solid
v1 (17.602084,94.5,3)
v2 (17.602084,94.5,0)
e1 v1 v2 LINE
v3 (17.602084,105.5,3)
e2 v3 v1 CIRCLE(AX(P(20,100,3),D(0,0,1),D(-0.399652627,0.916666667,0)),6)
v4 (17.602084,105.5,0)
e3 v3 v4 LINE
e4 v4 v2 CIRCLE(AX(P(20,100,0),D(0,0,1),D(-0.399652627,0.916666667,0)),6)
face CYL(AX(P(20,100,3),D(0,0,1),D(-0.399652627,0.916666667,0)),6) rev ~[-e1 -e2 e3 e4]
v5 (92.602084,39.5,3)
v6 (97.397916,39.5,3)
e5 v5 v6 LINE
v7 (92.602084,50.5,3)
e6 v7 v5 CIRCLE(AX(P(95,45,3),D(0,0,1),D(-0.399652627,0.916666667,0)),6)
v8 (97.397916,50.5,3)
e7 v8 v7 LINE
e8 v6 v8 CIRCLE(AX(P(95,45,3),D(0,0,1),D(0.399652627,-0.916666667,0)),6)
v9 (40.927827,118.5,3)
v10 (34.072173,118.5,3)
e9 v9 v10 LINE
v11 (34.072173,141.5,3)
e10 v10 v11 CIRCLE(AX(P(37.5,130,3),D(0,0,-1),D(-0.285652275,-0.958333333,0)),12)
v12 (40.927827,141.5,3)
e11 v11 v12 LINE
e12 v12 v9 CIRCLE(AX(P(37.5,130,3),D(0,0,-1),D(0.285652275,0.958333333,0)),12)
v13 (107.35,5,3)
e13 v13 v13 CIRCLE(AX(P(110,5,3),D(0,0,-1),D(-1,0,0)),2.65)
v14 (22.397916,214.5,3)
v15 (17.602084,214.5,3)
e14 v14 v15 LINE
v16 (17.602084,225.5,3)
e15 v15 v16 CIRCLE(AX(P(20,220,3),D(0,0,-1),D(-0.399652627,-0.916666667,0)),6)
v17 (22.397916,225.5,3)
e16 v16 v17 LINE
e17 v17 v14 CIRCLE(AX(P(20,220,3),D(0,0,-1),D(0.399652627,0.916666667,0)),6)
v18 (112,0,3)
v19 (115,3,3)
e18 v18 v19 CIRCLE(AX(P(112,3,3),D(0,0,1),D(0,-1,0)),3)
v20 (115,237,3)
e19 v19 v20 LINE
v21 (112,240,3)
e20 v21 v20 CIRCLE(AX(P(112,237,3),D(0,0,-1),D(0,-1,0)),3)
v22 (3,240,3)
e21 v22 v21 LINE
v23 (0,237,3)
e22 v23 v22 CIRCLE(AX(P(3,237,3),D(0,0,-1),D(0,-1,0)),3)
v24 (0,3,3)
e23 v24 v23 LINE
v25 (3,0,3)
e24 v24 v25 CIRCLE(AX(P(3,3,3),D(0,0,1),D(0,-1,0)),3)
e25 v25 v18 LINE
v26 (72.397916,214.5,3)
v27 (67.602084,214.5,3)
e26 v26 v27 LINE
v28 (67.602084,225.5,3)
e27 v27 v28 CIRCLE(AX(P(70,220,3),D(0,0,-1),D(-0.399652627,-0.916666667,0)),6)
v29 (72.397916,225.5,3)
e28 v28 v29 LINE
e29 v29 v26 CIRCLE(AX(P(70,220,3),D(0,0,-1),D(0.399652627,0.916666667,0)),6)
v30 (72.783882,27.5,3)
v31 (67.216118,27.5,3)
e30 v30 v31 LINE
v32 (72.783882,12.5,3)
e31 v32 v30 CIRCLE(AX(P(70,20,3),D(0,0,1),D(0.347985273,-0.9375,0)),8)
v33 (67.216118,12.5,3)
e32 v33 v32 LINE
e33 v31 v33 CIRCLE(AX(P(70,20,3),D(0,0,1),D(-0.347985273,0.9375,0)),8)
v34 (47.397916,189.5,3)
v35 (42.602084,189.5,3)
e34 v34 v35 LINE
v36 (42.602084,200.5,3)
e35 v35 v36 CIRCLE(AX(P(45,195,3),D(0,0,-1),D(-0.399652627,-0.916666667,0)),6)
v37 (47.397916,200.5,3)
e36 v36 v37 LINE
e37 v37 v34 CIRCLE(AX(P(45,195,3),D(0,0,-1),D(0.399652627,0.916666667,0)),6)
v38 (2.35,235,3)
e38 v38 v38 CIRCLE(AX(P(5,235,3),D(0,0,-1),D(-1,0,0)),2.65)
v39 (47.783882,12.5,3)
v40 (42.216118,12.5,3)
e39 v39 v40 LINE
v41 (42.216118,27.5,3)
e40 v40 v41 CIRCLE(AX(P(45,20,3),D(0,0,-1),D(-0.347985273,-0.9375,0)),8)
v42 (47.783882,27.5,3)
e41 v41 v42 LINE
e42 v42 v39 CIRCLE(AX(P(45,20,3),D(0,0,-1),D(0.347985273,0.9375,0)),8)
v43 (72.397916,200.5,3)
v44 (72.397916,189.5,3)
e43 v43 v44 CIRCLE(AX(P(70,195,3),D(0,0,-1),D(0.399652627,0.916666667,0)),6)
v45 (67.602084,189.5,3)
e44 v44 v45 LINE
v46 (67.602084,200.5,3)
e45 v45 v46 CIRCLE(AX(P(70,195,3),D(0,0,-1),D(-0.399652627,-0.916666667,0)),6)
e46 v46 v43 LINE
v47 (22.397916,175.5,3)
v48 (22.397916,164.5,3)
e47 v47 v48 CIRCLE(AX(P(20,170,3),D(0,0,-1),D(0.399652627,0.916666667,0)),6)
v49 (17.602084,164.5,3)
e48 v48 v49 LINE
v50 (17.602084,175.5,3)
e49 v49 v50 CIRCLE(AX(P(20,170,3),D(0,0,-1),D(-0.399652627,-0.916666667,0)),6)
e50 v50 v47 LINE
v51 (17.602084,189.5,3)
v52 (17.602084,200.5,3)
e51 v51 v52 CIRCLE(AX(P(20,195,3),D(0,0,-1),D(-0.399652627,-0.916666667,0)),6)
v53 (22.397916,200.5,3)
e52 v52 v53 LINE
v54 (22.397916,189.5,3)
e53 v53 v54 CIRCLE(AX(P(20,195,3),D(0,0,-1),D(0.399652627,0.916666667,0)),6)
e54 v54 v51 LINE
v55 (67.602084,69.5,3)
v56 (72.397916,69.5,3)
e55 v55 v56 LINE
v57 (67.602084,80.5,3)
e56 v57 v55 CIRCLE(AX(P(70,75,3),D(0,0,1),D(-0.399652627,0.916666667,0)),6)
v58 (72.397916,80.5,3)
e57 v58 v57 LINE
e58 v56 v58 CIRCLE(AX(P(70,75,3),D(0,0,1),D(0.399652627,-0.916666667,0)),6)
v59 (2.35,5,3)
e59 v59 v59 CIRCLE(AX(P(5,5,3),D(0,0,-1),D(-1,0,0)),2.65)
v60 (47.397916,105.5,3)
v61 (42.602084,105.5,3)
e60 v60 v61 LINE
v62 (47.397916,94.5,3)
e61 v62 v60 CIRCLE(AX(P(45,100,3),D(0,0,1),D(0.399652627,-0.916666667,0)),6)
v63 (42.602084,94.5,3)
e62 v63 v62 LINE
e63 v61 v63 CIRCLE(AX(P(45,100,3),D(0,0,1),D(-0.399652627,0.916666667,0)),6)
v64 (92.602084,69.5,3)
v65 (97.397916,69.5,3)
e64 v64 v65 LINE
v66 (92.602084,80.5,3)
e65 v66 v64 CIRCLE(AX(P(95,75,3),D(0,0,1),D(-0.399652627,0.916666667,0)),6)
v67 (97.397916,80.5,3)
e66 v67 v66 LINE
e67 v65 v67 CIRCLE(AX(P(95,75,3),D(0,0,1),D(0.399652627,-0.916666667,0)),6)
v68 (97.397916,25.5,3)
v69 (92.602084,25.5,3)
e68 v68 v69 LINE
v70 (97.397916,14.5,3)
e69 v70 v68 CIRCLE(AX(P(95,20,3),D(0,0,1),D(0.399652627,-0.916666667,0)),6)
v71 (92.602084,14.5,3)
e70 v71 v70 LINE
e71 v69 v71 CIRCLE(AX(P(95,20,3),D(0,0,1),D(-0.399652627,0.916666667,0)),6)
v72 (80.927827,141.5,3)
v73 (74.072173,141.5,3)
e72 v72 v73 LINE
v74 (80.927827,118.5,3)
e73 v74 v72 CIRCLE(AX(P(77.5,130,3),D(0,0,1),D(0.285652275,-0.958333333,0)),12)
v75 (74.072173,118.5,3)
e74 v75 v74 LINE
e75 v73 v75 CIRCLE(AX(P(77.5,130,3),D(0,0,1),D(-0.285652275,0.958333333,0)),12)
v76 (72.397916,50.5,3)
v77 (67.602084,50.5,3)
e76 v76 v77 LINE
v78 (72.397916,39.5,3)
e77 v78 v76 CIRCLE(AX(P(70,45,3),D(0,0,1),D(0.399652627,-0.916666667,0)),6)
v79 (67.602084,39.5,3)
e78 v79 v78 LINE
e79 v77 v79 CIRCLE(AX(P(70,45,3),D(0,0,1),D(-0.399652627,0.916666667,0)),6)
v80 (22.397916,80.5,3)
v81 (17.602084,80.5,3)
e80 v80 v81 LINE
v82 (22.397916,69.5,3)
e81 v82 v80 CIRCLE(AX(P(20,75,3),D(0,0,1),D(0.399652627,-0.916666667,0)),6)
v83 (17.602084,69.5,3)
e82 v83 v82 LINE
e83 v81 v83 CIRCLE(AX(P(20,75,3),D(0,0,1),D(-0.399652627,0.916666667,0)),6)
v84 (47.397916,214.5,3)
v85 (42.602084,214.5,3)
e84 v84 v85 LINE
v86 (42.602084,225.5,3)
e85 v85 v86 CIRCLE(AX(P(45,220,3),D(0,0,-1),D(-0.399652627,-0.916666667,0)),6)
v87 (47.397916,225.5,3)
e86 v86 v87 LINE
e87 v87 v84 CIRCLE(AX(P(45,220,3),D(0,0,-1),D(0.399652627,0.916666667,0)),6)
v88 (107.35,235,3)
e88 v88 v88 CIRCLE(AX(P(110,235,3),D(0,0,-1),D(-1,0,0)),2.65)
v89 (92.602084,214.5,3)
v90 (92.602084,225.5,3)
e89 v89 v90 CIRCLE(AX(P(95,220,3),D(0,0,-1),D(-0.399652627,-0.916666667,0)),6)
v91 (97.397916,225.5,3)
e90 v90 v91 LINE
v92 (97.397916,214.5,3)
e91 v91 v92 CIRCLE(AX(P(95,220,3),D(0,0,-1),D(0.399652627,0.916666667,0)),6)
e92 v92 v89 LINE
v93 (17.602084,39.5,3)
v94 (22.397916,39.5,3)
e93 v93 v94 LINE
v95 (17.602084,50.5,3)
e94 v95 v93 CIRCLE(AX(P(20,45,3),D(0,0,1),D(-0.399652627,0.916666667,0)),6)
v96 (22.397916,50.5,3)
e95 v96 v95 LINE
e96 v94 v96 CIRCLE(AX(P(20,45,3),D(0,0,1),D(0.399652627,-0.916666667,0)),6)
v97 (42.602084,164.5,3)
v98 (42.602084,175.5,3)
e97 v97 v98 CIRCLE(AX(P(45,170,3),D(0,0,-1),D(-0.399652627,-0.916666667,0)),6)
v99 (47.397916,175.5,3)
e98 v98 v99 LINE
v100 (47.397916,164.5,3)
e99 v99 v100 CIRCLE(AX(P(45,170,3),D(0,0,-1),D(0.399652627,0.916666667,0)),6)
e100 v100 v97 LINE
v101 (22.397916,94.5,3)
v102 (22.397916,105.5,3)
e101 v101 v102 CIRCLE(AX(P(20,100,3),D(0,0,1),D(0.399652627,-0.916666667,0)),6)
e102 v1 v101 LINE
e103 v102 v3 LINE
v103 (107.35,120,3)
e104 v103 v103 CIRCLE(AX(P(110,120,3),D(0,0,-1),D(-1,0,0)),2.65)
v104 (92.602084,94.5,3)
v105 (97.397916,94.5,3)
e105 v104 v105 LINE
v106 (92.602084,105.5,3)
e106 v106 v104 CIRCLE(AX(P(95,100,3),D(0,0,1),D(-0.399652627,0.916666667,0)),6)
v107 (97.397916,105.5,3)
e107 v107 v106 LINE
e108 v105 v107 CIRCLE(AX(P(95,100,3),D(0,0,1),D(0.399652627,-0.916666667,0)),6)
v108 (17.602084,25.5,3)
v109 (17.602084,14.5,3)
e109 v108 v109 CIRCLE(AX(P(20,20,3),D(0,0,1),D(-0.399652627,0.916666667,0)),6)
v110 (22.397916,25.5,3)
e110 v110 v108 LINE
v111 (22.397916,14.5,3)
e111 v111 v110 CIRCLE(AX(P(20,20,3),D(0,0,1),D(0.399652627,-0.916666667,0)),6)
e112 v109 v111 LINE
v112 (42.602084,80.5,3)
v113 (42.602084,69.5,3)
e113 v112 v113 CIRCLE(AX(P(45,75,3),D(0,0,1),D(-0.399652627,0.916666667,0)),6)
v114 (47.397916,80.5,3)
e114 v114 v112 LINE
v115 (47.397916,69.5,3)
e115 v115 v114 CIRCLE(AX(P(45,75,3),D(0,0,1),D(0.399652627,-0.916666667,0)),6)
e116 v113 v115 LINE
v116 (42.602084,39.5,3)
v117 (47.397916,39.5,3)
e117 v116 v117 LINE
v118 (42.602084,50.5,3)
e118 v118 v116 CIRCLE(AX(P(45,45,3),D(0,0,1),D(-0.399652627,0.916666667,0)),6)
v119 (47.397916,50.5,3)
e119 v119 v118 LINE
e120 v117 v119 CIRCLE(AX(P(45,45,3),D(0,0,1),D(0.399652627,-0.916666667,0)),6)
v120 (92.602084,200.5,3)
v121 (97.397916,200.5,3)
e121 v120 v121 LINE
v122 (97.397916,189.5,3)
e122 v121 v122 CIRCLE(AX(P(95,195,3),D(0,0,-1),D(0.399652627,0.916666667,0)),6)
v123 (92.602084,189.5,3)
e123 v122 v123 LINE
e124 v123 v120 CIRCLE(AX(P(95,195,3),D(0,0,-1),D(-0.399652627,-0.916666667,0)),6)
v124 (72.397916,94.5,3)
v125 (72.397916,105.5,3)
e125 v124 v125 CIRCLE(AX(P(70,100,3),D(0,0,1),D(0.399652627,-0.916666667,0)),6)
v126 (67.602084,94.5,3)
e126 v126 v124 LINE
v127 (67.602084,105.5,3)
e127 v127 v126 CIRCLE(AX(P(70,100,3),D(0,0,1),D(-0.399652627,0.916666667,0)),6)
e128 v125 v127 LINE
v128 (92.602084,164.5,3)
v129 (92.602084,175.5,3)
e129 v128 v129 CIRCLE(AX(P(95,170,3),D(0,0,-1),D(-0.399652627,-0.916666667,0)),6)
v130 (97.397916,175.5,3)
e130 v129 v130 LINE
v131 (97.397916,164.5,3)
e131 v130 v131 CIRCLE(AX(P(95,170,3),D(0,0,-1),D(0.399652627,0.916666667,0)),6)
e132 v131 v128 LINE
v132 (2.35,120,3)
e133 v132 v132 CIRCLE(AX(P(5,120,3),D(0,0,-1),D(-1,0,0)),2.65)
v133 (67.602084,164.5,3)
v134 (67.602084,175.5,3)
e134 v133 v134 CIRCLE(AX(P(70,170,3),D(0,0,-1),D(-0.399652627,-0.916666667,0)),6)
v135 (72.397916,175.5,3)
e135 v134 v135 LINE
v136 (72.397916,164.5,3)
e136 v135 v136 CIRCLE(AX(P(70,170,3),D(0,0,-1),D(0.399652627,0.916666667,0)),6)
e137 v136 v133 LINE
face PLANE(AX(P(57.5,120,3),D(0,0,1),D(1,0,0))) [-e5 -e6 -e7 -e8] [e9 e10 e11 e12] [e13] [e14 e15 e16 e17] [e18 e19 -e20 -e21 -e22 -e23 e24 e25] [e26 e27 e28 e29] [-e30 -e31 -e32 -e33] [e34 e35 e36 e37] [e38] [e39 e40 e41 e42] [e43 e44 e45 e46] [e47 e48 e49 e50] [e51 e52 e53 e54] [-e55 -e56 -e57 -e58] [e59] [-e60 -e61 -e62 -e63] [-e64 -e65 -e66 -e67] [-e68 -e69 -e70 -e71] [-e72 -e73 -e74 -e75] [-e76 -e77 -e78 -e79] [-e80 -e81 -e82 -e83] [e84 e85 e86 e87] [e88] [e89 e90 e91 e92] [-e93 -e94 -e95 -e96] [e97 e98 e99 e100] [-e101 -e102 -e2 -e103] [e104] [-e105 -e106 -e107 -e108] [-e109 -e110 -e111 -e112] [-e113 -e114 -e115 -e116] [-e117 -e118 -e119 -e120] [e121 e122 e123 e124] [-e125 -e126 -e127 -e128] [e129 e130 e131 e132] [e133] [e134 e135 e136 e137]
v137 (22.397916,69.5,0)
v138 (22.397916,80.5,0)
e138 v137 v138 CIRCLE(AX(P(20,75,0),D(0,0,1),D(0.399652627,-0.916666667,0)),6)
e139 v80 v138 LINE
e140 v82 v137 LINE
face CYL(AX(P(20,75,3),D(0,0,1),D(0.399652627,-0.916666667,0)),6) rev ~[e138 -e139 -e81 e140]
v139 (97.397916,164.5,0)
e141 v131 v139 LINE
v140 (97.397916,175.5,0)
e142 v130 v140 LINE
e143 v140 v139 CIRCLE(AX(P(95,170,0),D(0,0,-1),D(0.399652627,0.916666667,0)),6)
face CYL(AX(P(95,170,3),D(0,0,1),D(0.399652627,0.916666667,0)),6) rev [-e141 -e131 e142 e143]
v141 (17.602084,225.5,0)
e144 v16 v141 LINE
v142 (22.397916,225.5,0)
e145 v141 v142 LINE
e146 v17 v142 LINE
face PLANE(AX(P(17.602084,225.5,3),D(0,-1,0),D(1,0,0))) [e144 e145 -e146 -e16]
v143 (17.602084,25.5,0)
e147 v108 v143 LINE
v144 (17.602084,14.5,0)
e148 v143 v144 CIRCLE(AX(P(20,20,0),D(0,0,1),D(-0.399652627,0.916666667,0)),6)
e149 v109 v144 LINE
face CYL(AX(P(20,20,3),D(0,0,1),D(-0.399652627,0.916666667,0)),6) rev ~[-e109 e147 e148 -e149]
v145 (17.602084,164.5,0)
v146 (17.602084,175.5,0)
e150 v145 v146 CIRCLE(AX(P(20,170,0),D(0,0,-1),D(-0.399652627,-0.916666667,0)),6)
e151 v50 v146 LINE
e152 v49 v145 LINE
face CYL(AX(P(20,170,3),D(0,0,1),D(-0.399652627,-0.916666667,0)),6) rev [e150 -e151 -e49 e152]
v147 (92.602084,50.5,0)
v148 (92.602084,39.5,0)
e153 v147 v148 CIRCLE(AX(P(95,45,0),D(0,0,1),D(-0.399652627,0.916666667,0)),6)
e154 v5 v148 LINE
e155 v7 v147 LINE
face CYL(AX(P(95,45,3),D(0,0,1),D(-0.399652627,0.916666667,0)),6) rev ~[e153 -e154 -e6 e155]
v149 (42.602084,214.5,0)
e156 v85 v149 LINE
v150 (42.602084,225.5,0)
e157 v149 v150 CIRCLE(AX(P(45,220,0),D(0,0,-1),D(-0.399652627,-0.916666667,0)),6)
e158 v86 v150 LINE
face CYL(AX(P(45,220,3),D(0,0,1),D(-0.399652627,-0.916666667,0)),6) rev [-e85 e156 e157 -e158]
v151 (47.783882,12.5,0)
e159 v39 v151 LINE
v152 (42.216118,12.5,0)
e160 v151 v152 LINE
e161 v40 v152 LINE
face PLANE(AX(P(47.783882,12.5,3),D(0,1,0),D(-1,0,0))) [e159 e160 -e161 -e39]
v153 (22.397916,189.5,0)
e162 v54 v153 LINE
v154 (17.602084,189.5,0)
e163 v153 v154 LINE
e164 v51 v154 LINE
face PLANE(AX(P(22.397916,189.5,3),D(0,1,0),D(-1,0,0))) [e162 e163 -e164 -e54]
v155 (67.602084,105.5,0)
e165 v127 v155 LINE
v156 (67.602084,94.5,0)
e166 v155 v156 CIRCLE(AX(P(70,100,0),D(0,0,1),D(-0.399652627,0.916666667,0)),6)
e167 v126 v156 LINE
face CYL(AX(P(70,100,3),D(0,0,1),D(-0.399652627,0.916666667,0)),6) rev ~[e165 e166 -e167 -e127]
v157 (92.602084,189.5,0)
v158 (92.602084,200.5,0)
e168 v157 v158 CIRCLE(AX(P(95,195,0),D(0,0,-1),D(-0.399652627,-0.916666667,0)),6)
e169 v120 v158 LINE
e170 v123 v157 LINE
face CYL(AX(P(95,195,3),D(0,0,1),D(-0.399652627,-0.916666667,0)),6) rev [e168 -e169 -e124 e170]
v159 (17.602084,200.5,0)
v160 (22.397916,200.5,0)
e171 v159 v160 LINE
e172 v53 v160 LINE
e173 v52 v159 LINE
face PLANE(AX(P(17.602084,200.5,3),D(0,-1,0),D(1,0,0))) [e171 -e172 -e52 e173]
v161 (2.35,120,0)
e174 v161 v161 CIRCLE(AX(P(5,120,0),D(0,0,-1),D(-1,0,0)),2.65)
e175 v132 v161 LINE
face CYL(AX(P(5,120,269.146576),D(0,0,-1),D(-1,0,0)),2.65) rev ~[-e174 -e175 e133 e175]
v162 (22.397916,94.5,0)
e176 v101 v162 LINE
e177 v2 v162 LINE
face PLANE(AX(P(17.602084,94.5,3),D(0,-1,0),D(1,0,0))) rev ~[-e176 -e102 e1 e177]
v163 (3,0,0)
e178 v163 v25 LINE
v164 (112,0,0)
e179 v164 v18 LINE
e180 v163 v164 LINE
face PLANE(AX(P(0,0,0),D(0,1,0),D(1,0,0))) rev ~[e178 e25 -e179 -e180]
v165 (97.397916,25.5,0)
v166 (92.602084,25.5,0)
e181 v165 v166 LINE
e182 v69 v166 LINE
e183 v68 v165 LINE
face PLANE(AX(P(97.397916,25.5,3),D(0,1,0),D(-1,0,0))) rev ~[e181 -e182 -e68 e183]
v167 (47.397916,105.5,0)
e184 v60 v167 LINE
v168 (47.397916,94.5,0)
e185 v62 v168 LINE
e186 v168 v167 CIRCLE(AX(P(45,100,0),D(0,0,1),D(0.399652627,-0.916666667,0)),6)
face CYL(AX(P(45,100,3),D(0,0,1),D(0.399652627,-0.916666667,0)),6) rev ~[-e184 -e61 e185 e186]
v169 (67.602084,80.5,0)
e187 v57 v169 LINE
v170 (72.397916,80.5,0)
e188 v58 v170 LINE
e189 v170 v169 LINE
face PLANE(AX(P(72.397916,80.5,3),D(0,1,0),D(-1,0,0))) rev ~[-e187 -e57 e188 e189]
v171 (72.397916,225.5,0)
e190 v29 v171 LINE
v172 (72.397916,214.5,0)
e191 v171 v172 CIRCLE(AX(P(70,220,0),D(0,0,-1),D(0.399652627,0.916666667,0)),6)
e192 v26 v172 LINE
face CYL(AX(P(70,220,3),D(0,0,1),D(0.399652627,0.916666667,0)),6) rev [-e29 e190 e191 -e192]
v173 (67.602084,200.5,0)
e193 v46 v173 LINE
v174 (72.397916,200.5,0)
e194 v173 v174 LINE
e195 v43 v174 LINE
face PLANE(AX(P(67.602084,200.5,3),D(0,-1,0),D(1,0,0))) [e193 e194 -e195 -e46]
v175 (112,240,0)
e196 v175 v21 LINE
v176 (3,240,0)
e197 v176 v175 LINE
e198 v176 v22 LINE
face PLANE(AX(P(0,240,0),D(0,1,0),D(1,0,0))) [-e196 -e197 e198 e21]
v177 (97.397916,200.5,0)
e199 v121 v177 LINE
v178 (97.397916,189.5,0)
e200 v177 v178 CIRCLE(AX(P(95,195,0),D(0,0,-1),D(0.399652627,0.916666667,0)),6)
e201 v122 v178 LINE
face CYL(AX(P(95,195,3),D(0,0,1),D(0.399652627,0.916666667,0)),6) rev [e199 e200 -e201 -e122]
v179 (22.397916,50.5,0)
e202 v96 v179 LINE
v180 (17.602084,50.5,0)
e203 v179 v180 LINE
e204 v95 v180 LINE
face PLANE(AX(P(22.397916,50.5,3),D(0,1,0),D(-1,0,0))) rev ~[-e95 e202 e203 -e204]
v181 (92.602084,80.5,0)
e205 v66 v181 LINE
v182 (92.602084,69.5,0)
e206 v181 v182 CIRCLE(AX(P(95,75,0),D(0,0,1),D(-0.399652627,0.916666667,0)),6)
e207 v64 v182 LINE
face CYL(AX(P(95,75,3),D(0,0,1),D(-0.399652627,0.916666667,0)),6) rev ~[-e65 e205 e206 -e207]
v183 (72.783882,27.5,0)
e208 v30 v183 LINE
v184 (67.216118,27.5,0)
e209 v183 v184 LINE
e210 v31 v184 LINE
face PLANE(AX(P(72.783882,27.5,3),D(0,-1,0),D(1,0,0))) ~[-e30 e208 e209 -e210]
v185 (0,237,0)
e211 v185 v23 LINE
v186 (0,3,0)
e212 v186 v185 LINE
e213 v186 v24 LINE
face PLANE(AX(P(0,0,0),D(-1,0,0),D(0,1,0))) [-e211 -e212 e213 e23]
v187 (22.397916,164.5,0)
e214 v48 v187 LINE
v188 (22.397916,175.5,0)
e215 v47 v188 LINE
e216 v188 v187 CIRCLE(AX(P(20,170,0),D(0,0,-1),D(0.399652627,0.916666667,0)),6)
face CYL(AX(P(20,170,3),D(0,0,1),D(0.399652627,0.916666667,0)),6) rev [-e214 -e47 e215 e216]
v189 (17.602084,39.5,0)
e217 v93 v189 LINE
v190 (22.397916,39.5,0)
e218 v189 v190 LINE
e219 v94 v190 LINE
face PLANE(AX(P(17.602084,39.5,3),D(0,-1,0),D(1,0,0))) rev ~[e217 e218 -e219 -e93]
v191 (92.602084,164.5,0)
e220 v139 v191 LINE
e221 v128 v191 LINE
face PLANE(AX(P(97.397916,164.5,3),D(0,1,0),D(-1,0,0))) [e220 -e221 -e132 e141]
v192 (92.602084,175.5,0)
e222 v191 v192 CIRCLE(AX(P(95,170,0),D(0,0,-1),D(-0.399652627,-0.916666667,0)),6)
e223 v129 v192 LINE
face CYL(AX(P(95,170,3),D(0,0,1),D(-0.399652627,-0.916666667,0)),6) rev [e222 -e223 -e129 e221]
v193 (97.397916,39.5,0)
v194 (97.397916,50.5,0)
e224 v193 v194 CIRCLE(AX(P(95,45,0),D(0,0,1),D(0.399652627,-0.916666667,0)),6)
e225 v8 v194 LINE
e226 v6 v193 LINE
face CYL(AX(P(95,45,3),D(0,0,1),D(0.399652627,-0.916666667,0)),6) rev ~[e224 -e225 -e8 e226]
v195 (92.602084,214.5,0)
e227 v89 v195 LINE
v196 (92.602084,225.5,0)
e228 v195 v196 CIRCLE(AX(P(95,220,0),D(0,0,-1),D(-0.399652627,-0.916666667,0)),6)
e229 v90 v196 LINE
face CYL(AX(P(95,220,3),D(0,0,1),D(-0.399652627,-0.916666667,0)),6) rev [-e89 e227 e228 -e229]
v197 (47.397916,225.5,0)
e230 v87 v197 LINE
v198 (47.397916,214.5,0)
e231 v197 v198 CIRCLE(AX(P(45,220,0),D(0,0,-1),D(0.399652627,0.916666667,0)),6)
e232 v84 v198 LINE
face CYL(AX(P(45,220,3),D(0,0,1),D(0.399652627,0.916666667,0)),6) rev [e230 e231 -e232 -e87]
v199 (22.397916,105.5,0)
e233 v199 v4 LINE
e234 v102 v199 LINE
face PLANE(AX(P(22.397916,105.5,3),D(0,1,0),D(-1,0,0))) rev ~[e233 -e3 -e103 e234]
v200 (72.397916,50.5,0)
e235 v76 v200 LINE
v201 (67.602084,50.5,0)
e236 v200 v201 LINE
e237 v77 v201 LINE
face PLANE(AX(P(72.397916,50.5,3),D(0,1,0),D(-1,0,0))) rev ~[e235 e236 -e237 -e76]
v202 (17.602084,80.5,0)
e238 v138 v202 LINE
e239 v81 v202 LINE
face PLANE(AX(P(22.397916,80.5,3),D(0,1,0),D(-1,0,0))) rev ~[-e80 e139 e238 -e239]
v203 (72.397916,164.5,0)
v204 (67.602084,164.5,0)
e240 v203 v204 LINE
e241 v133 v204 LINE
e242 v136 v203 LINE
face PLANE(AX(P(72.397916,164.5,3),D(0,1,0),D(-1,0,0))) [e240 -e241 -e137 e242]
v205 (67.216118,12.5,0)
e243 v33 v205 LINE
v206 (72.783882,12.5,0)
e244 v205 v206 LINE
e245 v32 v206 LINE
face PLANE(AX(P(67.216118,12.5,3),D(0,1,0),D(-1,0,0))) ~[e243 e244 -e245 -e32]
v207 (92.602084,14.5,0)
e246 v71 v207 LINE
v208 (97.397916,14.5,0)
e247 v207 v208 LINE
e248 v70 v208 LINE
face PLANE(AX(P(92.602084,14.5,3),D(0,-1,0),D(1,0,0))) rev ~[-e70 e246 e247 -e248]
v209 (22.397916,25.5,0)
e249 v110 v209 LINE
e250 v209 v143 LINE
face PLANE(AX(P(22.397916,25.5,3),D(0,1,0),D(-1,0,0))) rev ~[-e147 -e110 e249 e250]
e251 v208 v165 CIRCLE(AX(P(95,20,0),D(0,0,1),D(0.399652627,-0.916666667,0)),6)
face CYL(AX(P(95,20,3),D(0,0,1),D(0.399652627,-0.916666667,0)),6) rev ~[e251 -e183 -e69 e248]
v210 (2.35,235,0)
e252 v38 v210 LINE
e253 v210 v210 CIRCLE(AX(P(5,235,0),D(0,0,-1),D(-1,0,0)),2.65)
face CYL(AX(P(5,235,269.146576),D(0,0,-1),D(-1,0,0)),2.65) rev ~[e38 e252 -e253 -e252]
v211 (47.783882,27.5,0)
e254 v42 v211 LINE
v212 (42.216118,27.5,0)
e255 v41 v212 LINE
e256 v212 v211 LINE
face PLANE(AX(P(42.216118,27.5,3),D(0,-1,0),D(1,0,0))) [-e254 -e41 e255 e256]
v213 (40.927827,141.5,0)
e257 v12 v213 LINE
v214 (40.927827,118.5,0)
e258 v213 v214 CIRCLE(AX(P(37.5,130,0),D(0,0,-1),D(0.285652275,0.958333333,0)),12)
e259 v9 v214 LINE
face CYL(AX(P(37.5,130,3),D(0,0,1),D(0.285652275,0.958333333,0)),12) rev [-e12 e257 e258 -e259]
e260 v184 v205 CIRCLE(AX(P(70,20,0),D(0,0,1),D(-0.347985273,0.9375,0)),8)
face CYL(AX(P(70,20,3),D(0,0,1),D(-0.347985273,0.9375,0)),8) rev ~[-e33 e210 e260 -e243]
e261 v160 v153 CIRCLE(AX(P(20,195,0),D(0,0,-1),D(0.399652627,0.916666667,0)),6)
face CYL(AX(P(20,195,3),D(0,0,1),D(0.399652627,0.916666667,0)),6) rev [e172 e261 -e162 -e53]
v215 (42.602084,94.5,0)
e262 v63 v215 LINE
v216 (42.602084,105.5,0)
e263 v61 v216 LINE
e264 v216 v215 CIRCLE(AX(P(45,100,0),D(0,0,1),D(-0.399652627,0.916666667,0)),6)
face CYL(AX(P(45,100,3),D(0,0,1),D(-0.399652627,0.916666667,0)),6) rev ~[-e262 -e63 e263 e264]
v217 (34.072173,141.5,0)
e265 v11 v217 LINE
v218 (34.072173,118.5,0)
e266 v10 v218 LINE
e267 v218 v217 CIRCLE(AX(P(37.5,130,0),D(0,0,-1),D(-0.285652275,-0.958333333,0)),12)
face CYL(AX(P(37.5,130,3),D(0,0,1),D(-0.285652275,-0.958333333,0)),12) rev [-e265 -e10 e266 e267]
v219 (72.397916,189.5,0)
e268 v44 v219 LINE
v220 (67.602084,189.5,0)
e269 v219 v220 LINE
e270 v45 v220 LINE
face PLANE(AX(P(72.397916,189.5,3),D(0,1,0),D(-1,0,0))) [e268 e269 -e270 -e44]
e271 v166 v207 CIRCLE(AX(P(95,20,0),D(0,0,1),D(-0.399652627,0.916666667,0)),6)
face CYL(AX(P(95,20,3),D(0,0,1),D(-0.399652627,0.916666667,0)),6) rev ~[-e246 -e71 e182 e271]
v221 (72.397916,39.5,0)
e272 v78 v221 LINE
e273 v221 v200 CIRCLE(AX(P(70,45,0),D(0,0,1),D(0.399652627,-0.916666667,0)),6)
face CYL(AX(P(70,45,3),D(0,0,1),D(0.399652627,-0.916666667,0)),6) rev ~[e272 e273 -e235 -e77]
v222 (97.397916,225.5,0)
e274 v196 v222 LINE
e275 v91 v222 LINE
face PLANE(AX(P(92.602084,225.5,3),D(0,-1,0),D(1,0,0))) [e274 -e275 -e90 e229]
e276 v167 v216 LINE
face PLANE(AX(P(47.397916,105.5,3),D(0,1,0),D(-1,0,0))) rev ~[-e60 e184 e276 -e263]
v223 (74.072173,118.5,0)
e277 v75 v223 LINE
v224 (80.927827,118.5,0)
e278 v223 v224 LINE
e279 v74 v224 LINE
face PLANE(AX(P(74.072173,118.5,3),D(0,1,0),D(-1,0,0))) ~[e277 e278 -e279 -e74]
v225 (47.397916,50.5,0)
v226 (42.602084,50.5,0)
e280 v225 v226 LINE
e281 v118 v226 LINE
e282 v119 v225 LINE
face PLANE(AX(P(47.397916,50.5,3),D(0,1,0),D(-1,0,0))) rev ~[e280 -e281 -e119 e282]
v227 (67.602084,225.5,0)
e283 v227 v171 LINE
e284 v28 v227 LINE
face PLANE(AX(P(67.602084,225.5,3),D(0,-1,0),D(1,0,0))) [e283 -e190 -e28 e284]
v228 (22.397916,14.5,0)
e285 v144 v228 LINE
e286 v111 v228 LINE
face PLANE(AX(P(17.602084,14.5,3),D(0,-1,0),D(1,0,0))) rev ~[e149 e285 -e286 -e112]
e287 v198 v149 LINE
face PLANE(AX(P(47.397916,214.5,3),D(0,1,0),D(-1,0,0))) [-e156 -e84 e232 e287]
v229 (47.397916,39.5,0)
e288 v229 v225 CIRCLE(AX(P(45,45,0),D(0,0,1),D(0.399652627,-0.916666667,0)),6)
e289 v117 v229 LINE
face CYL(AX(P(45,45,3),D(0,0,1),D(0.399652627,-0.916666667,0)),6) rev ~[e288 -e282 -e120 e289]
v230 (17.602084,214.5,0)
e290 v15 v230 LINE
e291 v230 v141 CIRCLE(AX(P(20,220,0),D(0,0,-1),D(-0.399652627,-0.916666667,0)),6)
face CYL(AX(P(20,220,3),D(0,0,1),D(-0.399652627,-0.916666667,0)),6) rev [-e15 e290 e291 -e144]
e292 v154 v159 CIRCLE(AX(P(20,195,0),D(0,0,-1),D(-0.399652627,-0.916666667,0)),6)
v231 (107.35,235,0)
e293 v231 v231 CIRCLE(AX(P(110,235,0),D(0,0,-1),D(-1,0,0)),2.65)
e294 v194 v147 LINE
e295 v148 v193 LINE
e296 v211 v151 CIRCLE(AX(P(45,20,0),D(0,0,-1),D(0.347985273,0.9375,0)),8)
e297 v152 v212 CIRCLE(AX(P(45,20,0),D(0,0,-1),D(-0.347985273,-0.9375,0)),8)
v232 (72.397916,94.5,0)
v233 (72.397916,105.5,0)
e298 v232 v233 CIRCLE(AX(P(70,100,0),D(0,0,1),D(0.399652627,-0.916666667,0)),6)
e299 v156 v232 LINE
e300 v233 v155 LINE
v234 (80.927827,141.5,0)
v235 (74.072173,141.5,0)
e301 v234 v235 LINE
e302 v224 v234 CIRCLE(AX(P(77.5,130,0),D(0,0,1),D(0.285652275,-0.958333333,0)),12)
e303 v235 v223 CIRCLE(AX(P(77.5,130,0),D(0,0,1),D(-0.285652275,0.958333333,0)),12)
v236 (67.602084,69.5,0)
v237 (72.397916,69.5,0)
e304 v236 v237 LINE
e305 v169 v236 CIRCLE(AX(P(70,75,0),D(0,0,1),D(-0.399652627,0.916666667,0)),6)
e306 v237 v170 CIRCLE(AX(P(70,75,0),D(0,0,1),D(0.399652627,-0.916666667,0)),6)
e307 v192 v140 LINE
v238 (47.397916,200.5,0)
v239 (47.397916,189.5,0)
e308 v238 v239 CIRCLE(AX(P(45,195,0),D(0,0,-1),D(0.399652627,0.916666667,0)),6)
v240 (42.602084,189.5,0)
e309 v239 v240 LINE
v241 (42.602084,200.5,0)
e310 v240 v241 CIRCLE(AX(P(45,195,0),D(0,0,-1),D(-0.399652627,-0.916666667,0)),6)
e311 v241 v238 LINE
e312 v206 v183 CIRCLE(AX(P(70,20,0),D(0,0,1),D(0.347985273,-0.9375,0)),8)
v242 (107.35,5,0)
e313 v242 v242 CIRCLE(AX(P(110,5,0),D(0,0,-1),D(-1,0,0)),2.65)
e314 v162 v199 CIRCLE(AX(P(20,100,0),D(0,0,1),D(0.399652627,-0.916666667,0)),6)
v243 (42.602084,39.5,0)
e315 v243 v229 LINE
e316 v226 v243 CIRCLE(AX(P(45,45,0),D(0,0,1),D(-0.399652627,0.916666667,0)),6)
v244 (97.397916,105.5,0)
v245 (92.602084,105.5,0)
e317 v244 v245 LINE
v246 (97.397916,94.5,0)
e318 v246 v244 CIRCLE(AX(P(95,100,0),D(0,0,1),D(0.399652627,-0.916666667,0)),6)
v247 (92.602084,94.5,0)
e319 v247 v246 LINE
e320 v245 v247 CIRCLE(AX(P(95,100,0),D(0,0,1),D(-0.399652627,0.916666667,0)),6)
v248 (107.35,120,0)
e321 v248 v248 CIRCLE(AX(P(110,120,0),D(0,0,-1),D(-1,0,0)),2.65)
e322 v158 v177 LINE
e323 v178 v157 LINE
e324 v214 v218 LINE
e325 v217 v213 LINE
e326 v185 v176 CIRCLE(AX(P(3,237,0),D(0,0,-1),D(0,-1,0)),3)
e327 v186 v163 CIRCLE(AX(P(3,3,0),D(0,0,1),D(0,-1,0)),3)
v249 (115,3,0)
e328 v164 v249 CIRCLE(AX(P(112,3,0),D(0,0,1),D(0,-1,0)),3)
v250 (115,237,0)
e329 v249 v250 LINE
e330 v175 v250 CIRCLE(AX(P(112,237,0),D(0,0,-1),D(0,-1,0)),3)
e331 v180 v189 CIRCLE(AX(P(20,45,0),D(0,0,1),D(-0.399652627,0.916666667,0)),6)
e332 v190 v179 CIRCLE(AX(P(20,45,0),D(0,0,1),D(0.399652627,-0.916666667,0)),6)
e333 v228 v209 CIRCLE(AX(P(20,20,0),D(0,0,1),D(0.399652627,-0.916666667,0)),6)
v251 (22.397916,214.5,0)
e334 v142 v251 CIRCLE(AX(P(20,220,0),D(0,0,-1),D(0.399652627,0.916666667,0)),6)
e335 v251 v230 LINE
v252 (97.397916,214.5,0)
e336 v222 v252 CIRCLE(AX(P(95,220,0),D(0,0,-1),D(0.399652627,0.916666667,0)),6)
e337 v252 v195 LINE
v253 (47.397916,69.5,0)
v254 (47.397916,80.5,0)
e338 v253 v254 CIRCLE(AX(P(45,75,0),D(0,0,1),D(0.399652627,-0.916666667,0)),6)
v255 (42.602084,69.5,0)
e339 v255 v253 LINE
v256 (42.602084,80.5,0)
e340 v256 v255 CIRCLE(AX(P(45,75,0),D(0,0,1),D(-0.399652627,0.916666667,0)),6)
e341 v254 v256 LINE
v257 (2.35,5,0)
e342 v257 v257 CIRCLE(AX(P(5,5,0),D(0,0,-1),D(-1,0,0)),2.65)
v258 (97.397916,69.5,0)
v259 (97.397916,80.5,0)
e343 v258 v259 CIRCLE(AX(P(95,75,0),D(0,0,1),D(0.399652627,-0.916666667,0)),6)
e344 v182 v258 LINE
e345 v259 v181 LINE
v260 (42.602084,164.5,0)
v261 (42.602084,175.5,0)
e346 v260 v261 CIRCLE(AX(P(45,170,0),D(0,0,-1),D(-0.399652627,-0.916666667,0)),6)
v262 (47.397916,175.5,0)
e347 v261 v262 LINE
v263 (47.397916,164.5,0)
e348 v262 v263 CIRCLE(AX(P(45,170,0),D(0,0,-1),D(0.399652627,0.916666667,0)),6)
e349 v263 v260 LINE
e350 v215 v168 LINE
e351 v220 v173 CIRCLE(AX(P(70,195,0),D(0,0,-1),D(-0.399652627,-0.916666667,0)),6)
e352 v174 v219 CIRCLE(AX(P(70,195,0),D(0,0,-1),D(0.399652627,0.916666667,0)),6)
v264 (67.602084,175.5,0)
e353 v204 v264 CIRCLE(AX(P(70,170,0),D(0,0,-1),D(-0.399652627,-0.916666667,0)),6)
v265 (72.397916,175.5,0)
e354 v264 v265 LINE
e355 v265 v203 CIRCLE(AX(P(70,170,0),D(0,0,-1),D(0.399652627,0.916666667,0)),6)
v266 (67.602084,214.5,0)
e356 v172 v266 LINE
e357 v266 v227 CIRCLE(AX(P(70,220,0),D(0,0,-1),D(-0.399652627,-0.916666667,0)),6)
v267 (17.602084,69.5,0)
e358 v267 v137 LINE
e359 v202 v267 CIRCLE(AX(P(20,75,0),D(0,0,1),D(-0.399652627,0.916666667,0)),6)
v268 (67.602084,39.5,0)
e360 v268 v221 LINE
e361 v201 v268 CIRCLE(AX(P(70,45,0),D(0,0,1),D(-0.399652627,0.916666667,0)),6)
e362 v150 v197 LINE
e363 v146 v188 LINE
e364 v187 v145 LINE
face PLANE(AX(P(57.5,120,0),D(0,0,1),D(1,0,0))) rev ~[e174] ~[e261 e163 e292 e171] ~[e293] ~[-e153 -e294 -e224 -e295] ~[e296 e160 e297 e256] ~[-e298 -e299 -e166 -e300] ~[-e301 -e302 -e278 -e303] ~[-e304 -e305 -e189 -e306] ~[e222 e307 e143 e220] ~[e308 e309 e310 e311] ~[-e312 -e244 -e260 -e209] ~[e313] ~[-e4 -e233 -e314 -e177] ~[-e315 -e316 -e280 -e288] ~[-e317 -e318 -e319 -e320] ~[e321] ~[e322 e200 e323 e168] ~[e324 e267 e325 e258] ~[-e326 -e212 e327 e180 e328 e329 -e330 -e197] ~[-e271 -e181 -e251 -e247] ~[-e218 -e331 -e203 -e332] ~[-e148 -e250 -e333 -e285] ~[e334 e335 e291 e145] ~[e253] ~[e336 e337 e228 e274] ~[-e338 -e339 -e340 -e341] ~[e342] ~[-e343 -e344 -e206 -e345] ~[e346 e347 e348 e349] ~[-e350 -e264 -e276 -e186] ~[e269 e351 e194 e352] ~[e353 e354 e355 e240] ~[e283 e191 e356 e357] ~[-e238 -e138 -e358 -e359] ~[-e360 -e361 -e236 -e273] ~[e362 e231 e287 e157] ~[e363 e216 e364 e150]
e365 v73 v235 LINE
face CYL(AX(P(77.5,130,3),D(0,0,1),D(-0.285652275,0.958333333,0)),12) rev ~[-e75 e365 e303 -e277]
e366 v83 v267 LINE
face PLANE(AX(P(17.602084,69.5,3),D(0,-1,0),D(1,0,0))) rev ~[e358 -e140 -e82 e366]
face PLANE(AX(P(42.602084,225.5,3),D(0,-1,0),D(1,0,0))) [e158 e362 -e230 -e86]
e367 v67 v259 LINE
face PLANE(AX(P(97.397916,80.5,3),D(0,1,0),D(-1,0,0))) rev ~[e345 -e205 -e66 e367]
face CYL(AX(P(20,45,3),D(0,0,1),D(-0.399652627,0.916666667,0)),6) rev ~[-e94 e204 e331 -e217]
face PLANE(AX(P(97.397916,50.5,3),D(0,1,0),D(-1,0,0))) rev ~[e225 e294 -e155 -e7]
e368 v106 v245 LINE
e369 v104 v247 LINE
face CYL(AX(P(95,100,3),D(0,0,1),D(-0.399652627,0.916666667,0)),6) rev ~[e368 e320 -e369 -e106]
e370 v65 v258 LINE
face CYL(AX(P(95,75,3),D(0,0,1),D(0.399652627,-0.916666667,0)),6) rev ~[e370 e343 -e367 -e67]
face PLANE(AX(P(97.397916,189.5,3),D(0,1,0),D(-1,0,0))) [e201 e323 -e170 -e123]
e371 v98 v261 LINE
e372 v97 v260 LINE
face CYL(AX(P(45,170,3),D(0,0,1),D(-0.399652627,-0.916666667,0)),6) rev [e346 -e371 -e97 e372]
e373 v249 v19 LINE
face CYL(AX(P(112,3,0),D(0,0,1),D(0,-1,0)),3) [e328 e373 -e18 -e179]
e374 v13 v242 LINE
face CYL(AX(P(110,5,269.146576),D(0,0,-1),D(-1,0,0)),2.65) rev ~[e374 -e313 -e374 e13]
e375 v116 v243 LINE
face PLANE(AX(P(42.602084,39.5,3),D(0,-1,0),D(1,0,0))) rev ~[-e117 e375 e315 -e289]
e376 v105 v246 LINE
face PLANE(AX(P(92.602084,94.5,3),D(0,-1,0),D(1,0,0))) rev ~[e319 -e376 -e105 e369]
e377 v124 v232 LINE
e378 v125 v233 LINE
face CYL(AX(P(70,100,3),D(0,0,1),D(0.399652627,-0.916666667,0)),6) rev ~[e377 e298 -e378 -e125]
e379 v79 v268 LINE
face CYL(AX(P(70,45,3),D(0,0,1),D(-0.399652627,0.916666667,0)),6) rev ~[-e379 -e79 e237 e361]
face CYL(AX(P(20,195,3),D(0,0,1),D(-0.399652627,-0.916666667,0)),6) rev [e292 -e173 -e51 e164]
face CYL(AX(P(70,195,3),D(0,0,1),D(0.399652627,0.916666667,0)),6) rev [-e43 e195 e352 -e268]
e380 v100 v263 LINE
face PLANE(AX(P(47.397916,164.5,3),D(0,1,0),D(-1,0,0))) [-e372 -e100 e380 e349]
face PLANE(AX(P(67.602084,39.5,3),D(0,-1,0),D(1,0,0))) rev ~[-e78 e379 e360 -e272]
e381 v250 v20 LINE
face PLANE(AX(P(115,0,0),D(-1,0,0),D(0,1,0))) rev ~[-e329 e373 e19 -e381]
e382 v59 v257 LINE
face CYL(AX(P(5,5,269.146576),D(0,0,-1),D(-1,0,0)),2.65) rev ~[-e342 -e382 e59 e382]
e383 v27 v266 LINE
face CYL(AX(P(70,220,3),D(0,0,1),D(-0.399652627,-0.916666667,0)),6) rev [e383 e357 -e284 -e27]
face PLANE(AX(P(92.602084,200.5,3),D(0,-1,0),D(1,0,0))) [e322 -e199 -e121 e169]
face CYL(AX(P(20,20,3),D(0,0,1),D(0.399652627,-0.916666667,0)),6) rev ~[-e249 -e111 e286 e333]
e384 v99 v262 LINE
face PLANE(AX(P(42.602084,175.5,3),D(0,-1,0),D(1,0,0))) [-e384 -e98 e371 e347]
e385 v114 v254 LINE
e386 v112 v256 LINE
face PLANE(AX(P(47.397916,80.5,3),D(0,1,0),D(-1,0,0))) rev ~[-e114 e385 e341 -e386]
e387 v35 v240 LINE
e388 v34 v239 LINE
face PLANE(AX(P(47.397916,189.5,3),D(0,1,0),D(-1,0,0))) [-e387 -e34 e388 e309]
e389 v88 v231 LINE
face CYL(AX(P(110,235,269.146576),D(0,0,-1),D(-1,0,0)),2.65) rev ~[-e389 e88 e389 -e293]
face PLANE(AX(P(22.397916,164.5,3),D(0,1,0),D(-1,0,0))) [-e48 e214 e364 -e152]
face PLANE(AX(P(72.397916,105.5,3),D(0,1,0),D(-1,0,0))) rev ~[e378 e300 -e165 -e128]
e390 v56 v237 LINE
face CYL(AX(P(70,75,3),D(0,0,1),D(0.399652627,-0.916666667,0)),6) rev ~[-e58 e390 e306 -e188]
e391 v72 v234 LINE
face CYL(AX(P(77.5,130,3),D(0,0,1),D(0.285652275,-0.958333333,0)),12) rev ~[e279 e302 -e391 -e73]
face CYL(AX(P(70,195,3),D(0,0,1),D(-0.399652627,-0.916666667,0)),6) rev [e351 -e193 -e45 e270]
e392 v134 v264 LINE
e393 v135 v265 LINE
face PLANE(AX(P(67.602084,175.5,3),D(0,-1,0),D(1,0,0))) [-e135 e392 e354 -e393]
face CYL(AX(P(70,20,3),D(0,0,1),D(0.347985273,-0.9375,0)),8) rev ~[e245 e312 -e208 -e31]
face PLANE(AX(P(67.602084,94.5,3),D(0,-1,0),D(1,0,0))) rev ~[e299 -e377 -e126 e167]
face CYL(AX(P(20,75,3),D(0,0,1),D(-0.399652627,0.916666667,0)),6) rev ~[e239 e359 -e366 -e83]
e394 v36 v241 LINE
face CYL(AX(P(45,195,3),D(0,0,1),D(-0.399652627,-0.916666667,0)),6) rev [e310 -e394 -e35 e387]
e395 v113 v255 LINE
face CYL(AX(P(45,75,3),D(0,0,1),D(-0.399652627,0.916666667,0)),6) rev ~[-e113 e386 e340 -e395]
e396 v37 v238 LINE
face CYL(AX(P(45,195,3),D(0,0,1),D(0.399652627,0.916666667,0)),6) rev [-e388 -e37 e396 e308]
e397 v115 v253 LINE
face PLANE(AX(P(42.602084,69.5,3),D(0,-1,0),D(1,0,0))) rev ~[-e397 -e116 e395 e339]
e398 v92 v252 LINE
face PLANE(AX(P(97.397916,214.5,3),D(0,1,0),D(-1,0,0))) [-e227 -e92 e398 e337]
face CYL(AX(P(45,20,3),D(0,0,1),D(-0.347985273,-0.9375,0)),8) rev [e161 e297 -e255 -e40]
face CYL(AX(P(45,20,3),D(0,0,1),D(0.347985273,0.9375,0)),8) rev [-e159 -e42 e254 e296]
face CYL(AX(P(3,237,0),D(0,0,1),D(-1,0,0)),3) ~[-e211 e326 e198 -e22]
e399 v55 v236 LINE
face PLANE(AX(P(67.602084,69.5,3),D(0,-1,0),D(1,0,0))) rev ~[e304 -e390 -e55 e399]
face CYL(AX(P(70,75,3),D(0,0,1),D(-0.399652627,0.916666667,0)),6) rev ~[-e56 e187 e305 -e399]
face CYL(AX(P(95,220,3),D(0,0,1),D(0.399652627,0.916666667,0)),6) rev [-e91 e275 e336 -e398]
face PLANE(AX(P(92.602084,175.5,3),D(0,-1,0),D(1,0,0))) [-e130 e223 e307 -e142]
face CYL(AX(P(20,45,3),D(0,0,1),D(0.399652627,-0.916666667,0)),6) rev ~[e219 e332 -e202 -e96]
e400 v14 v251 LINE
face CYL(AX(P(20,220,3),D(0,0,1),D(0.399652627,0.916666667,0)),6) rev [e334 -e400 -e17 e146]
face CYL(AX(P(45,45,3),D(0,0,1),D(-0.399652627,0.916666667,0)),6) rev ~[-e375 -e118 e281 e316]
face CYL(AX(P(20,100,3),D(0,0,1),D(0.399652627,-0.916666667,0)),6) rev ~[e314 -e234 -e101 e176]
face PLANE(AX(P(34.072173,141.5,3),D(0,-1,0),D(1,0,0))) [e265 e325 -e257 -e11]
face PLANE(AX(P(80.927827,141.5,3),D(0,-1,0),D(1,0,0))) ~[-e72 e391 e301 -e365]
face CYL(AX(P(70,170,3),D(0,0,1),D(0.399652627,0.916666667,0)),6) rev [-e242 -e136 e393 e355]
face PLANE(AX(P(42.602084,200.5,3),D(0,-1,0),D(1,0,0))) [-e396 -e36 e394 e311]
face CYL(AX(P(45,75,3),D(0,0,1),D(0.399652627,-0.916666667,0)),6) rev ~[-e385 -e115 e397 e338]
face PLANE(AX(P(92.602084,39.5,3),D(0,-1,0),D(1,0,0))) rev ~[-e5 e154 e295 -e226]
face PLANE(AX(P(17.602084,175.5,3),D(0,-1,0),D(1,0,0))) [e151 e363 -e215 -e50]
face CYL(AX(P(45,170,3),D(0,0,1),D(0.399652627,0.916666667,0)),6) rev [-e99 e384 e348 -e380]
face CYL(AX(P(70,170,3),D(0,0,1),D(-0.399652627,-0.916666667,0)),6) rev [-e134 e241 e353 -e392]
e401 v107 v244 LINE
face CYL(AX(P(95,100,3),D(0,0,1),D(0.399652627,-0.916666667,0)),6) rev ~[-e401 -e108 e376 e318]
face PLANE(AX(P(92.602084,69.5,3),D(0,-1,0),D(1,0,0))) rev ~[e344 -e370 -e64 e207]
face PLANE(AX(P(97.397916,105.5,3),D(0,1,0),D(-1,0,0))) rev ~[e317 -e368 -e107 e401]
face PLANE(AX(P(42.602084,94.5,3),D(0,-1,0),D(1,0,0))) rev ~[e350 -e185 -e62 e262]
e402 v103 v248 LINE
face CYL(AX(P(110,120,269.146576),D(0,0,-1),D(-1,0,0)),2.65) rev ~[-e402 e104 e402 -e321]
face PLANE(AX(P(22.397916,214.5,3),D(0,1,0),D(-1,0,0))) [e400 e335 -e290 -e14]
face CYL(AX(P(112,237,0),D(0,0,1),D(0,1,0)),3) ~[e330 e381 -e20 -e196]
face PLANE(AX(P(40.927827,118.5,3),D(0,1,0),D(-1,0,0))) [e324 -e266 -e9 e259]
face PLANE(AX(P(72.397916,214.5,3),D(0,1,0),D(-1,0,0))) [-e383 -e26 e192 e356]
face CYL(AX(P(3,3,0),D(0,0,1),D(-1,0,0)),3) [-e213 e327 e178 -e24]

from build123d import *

# Parameters (mm, degrees)
SKETCH1_W            = 115
SKETCH1_H            = 240
BOSS_EXTRUDE1_DEPTH  = 3
CUT_EXTRUDE1_DEPTH   = 3
LPATTERN1_COUNT      = 4
LPATTERN1_PITCH      = 25
LPATTERN1_COUNT_DIR2 = 2
LPATTERN1_PITCH_DIR2 = 25
CUT_EXTRUDE2_DEPTH   = 3
LPATTERN2_COUNT      = 4
LPATTERN2_PITCH      = 25
LPATTERN2_COUNT_DIR2 = 3
LPATTERN2_PITCH_DIR2 = 25
CUT_EXTRUDE3_DEPTH   = 3
CUT_EXTRUDE4_DEPTH   = 3
LPATTERN3_COUNT      = 4
LPATTERN3_PITCH      = 25
LPATTERN3_COUNT_DIR2 = 2
LPATTERN3_PITCH_DIR2 = 25
CUT_EXTRUDE5_DEPTH   = 3
M5_CLEARANCE_HOLE1_D = 5.3
FILLET1_R            = 3


with BuildPart() as part:
    # Sketch1 → Boss-Extrude1 (new body)
    with BuildSketch(Plane.XY):
        with Locations((57.5, 120)):
            Rectangle(SKETCH1_W, SKETCH1_H)
    extrude(amount=BOSS_EXTRUDE1_DEPTH)

    # Sketch2 → Cut-Extrude1 (cut)
    with BuildSketch(Plane.XY.offset(3)):
        with BuildLine():
            Line((22.397915762, 25.5), (17.602084238, 25.5))
            ThreePointArc((17.602084238, 25.5), (14, 20), (17.602084238, 14.5))
            Line((17.602084238, 14.5), (22.397915762, 14.5))
            ThreePointArc((22.397915762, 14.5), (26, 20), (22.397915762, 25.5))
        make_face()
    cut_extrude1 = extrude(amount=-CUT_EXTRUDE1_DEPTH, mode=Mode.SUBTRACT)

    # LPattern1: Cut-Extrude1 4 × 2, 2 skipped
    with Locations(*[(i * LPATTERN1_PITCH, j * LPATTERN1_PITCH_DIR2, 0) for i in range(LPATTERN1_COUNT) for j in range(LPATTERN1_COUNT_DIR2) if (i, j) not in ((0, 0), (1, 0), (2, 0))]):
        add(cut_extrude1, mode=Mode.SUBTRACT)

    # Sketch3 → Cut-Extrude2 (cut)
    with BuildSketch(Plane.XY.offset(3)):
        with BuildLine():
            Line((22.397915762, 214.5), (17.602084238, 214.5))
            ThreePointArc((17.602084238, 214.5), (14, 220), (17.602084238, 225.5))
            Line((17.602084238, 225.5), (22.397915762, 225.5))
            ThreePointArc((22.397915762, 225.5), (26, 220), (22.397915762, 214.5))
        make_face()
    cut_extrude2 = extrude(amount=-CUT_EXTRUDE2_DEPTH, mode=Mode.SUBTRACT)

    # LPattern2: Cut-Extrude2 4 × 3
    with Locations(*[(i * LPATTERN2_PITCH, -j * LPATTERN2_PITCH_DIR2, 0) for i in range(LPATTERN2_COUNT) for j in range(LPATTERN2_COUNT_DIR2) if (i, j) != (0, 0)]):
        add(cut_extrude2, mode=Mode.SUBTRACT)

    # Sketch4 → Cut-Extrude3 (cut)
    with BuildSketch(Plane.XY.offset(3)):
        with BuildLine():
            Line((42.216117819, 27.5), (47.783882181, 27.5))
            ThreePointArc((47.783882181, 27.5), (53, 20), (47.783882181, 12.5))
            Line((47.783882181, 12.5), (42.216117819, 12.5))
            ThreePointArc((42.216117819, 12.5), (37, 20), (42.216117819, 27.5))
        make_face()
    cut_extrude3 = extrude(amount=-CUT_EXTRUDE3_DEPTH, mode=Mode.SUBTRACT)

    # Mirror2: Cut-Extrude3 across plane
    add(cut_extrude3.mirror(Plane.ZY.offset(-57.5)), mode=Mode.SUBTRACT)

    # Sketch5 → Cut-Extrude4 (cut)
    with BuildSketch(Plane.XY.offset(3)):
        with BuildLine():
            Line((22.397915762, 80.5), (17.602084238, 80.5))
            ThreePointArc((17.602084238, 80.5), (14, 75), (17.602084238, 69.5))
            Line((17.602084238, 69.5), (22.397915762, 69.5))
            ThreePointArc((22.397915762, 69.5), (26, 75), (22.397915762, 80.5))
        make_face()
    cut_extrude4 = extrude(amount=-CUT_EXTRUDE4_DEPTH, mode=Mode.SUBTRACT)

    # LPattern3: Cut-Extrude4 4 × 2
    with Locations(*[(i * LPATTERN3_PITCH, j * LPATTERN3_PITCH_DIR2, 0) for i in range(LPATTERN3_COUNT) for j in range(LPATTERN3_COUNT_DIR2) if (i, j) != (0, 0)]):
        add(cut_extrude4, mode=Mode.SUBTRACT)

    # Sketch7 → Cut-Extrude5 (cut)
    with BuildSketch(Plane.XY.offset(3)):
        with BuildLine():
            Line((34.0721727, 141.5), (40.9278273, 141.5))
            ThreePointArc((40.9278273, 141.5), (49.5, 130), (40.9278273, 118.5))
            Line((40.9278273, 118.5), (34.0721727, 118.5))
            ThreePointArc((34.0721727, 118.5), (25.5, 130), (34.0721727, 141.5))
        make_face()
    cut_extrude5 = extrude(amount=-CUT_EXTRUDE5_DEPTH, mode=Mode.SUBTRACT)

    # Mirror3: Cut-Extrude5 across plane
    add(cut_extrude5.mirror(Plane.ZY.offset(-57.5)), mode=Mode.SUBTRACT)

    # M5 Clearance Hole1 (through all)
    with Locations(Plane.XY.offset(3)):
        with Locations((5, 235), (5, 5), (110, 5), (110, 235), (5, 120), (110, 120)):
            Hole(M5_CLEARANCE_HOLE1_D / 2)

    # Fillet1
    fillet1_edges = [part.edges().sort_by_distance(p)[0] for p in [
        (0, 240, 1.5),
        (115, 240, 1.5),
        (115, 0, 1.5),
        (0, 0, 1.5),
    ]]
    fillet(fillet1_edges, radius=FILLET1_R)


solid = part.part
